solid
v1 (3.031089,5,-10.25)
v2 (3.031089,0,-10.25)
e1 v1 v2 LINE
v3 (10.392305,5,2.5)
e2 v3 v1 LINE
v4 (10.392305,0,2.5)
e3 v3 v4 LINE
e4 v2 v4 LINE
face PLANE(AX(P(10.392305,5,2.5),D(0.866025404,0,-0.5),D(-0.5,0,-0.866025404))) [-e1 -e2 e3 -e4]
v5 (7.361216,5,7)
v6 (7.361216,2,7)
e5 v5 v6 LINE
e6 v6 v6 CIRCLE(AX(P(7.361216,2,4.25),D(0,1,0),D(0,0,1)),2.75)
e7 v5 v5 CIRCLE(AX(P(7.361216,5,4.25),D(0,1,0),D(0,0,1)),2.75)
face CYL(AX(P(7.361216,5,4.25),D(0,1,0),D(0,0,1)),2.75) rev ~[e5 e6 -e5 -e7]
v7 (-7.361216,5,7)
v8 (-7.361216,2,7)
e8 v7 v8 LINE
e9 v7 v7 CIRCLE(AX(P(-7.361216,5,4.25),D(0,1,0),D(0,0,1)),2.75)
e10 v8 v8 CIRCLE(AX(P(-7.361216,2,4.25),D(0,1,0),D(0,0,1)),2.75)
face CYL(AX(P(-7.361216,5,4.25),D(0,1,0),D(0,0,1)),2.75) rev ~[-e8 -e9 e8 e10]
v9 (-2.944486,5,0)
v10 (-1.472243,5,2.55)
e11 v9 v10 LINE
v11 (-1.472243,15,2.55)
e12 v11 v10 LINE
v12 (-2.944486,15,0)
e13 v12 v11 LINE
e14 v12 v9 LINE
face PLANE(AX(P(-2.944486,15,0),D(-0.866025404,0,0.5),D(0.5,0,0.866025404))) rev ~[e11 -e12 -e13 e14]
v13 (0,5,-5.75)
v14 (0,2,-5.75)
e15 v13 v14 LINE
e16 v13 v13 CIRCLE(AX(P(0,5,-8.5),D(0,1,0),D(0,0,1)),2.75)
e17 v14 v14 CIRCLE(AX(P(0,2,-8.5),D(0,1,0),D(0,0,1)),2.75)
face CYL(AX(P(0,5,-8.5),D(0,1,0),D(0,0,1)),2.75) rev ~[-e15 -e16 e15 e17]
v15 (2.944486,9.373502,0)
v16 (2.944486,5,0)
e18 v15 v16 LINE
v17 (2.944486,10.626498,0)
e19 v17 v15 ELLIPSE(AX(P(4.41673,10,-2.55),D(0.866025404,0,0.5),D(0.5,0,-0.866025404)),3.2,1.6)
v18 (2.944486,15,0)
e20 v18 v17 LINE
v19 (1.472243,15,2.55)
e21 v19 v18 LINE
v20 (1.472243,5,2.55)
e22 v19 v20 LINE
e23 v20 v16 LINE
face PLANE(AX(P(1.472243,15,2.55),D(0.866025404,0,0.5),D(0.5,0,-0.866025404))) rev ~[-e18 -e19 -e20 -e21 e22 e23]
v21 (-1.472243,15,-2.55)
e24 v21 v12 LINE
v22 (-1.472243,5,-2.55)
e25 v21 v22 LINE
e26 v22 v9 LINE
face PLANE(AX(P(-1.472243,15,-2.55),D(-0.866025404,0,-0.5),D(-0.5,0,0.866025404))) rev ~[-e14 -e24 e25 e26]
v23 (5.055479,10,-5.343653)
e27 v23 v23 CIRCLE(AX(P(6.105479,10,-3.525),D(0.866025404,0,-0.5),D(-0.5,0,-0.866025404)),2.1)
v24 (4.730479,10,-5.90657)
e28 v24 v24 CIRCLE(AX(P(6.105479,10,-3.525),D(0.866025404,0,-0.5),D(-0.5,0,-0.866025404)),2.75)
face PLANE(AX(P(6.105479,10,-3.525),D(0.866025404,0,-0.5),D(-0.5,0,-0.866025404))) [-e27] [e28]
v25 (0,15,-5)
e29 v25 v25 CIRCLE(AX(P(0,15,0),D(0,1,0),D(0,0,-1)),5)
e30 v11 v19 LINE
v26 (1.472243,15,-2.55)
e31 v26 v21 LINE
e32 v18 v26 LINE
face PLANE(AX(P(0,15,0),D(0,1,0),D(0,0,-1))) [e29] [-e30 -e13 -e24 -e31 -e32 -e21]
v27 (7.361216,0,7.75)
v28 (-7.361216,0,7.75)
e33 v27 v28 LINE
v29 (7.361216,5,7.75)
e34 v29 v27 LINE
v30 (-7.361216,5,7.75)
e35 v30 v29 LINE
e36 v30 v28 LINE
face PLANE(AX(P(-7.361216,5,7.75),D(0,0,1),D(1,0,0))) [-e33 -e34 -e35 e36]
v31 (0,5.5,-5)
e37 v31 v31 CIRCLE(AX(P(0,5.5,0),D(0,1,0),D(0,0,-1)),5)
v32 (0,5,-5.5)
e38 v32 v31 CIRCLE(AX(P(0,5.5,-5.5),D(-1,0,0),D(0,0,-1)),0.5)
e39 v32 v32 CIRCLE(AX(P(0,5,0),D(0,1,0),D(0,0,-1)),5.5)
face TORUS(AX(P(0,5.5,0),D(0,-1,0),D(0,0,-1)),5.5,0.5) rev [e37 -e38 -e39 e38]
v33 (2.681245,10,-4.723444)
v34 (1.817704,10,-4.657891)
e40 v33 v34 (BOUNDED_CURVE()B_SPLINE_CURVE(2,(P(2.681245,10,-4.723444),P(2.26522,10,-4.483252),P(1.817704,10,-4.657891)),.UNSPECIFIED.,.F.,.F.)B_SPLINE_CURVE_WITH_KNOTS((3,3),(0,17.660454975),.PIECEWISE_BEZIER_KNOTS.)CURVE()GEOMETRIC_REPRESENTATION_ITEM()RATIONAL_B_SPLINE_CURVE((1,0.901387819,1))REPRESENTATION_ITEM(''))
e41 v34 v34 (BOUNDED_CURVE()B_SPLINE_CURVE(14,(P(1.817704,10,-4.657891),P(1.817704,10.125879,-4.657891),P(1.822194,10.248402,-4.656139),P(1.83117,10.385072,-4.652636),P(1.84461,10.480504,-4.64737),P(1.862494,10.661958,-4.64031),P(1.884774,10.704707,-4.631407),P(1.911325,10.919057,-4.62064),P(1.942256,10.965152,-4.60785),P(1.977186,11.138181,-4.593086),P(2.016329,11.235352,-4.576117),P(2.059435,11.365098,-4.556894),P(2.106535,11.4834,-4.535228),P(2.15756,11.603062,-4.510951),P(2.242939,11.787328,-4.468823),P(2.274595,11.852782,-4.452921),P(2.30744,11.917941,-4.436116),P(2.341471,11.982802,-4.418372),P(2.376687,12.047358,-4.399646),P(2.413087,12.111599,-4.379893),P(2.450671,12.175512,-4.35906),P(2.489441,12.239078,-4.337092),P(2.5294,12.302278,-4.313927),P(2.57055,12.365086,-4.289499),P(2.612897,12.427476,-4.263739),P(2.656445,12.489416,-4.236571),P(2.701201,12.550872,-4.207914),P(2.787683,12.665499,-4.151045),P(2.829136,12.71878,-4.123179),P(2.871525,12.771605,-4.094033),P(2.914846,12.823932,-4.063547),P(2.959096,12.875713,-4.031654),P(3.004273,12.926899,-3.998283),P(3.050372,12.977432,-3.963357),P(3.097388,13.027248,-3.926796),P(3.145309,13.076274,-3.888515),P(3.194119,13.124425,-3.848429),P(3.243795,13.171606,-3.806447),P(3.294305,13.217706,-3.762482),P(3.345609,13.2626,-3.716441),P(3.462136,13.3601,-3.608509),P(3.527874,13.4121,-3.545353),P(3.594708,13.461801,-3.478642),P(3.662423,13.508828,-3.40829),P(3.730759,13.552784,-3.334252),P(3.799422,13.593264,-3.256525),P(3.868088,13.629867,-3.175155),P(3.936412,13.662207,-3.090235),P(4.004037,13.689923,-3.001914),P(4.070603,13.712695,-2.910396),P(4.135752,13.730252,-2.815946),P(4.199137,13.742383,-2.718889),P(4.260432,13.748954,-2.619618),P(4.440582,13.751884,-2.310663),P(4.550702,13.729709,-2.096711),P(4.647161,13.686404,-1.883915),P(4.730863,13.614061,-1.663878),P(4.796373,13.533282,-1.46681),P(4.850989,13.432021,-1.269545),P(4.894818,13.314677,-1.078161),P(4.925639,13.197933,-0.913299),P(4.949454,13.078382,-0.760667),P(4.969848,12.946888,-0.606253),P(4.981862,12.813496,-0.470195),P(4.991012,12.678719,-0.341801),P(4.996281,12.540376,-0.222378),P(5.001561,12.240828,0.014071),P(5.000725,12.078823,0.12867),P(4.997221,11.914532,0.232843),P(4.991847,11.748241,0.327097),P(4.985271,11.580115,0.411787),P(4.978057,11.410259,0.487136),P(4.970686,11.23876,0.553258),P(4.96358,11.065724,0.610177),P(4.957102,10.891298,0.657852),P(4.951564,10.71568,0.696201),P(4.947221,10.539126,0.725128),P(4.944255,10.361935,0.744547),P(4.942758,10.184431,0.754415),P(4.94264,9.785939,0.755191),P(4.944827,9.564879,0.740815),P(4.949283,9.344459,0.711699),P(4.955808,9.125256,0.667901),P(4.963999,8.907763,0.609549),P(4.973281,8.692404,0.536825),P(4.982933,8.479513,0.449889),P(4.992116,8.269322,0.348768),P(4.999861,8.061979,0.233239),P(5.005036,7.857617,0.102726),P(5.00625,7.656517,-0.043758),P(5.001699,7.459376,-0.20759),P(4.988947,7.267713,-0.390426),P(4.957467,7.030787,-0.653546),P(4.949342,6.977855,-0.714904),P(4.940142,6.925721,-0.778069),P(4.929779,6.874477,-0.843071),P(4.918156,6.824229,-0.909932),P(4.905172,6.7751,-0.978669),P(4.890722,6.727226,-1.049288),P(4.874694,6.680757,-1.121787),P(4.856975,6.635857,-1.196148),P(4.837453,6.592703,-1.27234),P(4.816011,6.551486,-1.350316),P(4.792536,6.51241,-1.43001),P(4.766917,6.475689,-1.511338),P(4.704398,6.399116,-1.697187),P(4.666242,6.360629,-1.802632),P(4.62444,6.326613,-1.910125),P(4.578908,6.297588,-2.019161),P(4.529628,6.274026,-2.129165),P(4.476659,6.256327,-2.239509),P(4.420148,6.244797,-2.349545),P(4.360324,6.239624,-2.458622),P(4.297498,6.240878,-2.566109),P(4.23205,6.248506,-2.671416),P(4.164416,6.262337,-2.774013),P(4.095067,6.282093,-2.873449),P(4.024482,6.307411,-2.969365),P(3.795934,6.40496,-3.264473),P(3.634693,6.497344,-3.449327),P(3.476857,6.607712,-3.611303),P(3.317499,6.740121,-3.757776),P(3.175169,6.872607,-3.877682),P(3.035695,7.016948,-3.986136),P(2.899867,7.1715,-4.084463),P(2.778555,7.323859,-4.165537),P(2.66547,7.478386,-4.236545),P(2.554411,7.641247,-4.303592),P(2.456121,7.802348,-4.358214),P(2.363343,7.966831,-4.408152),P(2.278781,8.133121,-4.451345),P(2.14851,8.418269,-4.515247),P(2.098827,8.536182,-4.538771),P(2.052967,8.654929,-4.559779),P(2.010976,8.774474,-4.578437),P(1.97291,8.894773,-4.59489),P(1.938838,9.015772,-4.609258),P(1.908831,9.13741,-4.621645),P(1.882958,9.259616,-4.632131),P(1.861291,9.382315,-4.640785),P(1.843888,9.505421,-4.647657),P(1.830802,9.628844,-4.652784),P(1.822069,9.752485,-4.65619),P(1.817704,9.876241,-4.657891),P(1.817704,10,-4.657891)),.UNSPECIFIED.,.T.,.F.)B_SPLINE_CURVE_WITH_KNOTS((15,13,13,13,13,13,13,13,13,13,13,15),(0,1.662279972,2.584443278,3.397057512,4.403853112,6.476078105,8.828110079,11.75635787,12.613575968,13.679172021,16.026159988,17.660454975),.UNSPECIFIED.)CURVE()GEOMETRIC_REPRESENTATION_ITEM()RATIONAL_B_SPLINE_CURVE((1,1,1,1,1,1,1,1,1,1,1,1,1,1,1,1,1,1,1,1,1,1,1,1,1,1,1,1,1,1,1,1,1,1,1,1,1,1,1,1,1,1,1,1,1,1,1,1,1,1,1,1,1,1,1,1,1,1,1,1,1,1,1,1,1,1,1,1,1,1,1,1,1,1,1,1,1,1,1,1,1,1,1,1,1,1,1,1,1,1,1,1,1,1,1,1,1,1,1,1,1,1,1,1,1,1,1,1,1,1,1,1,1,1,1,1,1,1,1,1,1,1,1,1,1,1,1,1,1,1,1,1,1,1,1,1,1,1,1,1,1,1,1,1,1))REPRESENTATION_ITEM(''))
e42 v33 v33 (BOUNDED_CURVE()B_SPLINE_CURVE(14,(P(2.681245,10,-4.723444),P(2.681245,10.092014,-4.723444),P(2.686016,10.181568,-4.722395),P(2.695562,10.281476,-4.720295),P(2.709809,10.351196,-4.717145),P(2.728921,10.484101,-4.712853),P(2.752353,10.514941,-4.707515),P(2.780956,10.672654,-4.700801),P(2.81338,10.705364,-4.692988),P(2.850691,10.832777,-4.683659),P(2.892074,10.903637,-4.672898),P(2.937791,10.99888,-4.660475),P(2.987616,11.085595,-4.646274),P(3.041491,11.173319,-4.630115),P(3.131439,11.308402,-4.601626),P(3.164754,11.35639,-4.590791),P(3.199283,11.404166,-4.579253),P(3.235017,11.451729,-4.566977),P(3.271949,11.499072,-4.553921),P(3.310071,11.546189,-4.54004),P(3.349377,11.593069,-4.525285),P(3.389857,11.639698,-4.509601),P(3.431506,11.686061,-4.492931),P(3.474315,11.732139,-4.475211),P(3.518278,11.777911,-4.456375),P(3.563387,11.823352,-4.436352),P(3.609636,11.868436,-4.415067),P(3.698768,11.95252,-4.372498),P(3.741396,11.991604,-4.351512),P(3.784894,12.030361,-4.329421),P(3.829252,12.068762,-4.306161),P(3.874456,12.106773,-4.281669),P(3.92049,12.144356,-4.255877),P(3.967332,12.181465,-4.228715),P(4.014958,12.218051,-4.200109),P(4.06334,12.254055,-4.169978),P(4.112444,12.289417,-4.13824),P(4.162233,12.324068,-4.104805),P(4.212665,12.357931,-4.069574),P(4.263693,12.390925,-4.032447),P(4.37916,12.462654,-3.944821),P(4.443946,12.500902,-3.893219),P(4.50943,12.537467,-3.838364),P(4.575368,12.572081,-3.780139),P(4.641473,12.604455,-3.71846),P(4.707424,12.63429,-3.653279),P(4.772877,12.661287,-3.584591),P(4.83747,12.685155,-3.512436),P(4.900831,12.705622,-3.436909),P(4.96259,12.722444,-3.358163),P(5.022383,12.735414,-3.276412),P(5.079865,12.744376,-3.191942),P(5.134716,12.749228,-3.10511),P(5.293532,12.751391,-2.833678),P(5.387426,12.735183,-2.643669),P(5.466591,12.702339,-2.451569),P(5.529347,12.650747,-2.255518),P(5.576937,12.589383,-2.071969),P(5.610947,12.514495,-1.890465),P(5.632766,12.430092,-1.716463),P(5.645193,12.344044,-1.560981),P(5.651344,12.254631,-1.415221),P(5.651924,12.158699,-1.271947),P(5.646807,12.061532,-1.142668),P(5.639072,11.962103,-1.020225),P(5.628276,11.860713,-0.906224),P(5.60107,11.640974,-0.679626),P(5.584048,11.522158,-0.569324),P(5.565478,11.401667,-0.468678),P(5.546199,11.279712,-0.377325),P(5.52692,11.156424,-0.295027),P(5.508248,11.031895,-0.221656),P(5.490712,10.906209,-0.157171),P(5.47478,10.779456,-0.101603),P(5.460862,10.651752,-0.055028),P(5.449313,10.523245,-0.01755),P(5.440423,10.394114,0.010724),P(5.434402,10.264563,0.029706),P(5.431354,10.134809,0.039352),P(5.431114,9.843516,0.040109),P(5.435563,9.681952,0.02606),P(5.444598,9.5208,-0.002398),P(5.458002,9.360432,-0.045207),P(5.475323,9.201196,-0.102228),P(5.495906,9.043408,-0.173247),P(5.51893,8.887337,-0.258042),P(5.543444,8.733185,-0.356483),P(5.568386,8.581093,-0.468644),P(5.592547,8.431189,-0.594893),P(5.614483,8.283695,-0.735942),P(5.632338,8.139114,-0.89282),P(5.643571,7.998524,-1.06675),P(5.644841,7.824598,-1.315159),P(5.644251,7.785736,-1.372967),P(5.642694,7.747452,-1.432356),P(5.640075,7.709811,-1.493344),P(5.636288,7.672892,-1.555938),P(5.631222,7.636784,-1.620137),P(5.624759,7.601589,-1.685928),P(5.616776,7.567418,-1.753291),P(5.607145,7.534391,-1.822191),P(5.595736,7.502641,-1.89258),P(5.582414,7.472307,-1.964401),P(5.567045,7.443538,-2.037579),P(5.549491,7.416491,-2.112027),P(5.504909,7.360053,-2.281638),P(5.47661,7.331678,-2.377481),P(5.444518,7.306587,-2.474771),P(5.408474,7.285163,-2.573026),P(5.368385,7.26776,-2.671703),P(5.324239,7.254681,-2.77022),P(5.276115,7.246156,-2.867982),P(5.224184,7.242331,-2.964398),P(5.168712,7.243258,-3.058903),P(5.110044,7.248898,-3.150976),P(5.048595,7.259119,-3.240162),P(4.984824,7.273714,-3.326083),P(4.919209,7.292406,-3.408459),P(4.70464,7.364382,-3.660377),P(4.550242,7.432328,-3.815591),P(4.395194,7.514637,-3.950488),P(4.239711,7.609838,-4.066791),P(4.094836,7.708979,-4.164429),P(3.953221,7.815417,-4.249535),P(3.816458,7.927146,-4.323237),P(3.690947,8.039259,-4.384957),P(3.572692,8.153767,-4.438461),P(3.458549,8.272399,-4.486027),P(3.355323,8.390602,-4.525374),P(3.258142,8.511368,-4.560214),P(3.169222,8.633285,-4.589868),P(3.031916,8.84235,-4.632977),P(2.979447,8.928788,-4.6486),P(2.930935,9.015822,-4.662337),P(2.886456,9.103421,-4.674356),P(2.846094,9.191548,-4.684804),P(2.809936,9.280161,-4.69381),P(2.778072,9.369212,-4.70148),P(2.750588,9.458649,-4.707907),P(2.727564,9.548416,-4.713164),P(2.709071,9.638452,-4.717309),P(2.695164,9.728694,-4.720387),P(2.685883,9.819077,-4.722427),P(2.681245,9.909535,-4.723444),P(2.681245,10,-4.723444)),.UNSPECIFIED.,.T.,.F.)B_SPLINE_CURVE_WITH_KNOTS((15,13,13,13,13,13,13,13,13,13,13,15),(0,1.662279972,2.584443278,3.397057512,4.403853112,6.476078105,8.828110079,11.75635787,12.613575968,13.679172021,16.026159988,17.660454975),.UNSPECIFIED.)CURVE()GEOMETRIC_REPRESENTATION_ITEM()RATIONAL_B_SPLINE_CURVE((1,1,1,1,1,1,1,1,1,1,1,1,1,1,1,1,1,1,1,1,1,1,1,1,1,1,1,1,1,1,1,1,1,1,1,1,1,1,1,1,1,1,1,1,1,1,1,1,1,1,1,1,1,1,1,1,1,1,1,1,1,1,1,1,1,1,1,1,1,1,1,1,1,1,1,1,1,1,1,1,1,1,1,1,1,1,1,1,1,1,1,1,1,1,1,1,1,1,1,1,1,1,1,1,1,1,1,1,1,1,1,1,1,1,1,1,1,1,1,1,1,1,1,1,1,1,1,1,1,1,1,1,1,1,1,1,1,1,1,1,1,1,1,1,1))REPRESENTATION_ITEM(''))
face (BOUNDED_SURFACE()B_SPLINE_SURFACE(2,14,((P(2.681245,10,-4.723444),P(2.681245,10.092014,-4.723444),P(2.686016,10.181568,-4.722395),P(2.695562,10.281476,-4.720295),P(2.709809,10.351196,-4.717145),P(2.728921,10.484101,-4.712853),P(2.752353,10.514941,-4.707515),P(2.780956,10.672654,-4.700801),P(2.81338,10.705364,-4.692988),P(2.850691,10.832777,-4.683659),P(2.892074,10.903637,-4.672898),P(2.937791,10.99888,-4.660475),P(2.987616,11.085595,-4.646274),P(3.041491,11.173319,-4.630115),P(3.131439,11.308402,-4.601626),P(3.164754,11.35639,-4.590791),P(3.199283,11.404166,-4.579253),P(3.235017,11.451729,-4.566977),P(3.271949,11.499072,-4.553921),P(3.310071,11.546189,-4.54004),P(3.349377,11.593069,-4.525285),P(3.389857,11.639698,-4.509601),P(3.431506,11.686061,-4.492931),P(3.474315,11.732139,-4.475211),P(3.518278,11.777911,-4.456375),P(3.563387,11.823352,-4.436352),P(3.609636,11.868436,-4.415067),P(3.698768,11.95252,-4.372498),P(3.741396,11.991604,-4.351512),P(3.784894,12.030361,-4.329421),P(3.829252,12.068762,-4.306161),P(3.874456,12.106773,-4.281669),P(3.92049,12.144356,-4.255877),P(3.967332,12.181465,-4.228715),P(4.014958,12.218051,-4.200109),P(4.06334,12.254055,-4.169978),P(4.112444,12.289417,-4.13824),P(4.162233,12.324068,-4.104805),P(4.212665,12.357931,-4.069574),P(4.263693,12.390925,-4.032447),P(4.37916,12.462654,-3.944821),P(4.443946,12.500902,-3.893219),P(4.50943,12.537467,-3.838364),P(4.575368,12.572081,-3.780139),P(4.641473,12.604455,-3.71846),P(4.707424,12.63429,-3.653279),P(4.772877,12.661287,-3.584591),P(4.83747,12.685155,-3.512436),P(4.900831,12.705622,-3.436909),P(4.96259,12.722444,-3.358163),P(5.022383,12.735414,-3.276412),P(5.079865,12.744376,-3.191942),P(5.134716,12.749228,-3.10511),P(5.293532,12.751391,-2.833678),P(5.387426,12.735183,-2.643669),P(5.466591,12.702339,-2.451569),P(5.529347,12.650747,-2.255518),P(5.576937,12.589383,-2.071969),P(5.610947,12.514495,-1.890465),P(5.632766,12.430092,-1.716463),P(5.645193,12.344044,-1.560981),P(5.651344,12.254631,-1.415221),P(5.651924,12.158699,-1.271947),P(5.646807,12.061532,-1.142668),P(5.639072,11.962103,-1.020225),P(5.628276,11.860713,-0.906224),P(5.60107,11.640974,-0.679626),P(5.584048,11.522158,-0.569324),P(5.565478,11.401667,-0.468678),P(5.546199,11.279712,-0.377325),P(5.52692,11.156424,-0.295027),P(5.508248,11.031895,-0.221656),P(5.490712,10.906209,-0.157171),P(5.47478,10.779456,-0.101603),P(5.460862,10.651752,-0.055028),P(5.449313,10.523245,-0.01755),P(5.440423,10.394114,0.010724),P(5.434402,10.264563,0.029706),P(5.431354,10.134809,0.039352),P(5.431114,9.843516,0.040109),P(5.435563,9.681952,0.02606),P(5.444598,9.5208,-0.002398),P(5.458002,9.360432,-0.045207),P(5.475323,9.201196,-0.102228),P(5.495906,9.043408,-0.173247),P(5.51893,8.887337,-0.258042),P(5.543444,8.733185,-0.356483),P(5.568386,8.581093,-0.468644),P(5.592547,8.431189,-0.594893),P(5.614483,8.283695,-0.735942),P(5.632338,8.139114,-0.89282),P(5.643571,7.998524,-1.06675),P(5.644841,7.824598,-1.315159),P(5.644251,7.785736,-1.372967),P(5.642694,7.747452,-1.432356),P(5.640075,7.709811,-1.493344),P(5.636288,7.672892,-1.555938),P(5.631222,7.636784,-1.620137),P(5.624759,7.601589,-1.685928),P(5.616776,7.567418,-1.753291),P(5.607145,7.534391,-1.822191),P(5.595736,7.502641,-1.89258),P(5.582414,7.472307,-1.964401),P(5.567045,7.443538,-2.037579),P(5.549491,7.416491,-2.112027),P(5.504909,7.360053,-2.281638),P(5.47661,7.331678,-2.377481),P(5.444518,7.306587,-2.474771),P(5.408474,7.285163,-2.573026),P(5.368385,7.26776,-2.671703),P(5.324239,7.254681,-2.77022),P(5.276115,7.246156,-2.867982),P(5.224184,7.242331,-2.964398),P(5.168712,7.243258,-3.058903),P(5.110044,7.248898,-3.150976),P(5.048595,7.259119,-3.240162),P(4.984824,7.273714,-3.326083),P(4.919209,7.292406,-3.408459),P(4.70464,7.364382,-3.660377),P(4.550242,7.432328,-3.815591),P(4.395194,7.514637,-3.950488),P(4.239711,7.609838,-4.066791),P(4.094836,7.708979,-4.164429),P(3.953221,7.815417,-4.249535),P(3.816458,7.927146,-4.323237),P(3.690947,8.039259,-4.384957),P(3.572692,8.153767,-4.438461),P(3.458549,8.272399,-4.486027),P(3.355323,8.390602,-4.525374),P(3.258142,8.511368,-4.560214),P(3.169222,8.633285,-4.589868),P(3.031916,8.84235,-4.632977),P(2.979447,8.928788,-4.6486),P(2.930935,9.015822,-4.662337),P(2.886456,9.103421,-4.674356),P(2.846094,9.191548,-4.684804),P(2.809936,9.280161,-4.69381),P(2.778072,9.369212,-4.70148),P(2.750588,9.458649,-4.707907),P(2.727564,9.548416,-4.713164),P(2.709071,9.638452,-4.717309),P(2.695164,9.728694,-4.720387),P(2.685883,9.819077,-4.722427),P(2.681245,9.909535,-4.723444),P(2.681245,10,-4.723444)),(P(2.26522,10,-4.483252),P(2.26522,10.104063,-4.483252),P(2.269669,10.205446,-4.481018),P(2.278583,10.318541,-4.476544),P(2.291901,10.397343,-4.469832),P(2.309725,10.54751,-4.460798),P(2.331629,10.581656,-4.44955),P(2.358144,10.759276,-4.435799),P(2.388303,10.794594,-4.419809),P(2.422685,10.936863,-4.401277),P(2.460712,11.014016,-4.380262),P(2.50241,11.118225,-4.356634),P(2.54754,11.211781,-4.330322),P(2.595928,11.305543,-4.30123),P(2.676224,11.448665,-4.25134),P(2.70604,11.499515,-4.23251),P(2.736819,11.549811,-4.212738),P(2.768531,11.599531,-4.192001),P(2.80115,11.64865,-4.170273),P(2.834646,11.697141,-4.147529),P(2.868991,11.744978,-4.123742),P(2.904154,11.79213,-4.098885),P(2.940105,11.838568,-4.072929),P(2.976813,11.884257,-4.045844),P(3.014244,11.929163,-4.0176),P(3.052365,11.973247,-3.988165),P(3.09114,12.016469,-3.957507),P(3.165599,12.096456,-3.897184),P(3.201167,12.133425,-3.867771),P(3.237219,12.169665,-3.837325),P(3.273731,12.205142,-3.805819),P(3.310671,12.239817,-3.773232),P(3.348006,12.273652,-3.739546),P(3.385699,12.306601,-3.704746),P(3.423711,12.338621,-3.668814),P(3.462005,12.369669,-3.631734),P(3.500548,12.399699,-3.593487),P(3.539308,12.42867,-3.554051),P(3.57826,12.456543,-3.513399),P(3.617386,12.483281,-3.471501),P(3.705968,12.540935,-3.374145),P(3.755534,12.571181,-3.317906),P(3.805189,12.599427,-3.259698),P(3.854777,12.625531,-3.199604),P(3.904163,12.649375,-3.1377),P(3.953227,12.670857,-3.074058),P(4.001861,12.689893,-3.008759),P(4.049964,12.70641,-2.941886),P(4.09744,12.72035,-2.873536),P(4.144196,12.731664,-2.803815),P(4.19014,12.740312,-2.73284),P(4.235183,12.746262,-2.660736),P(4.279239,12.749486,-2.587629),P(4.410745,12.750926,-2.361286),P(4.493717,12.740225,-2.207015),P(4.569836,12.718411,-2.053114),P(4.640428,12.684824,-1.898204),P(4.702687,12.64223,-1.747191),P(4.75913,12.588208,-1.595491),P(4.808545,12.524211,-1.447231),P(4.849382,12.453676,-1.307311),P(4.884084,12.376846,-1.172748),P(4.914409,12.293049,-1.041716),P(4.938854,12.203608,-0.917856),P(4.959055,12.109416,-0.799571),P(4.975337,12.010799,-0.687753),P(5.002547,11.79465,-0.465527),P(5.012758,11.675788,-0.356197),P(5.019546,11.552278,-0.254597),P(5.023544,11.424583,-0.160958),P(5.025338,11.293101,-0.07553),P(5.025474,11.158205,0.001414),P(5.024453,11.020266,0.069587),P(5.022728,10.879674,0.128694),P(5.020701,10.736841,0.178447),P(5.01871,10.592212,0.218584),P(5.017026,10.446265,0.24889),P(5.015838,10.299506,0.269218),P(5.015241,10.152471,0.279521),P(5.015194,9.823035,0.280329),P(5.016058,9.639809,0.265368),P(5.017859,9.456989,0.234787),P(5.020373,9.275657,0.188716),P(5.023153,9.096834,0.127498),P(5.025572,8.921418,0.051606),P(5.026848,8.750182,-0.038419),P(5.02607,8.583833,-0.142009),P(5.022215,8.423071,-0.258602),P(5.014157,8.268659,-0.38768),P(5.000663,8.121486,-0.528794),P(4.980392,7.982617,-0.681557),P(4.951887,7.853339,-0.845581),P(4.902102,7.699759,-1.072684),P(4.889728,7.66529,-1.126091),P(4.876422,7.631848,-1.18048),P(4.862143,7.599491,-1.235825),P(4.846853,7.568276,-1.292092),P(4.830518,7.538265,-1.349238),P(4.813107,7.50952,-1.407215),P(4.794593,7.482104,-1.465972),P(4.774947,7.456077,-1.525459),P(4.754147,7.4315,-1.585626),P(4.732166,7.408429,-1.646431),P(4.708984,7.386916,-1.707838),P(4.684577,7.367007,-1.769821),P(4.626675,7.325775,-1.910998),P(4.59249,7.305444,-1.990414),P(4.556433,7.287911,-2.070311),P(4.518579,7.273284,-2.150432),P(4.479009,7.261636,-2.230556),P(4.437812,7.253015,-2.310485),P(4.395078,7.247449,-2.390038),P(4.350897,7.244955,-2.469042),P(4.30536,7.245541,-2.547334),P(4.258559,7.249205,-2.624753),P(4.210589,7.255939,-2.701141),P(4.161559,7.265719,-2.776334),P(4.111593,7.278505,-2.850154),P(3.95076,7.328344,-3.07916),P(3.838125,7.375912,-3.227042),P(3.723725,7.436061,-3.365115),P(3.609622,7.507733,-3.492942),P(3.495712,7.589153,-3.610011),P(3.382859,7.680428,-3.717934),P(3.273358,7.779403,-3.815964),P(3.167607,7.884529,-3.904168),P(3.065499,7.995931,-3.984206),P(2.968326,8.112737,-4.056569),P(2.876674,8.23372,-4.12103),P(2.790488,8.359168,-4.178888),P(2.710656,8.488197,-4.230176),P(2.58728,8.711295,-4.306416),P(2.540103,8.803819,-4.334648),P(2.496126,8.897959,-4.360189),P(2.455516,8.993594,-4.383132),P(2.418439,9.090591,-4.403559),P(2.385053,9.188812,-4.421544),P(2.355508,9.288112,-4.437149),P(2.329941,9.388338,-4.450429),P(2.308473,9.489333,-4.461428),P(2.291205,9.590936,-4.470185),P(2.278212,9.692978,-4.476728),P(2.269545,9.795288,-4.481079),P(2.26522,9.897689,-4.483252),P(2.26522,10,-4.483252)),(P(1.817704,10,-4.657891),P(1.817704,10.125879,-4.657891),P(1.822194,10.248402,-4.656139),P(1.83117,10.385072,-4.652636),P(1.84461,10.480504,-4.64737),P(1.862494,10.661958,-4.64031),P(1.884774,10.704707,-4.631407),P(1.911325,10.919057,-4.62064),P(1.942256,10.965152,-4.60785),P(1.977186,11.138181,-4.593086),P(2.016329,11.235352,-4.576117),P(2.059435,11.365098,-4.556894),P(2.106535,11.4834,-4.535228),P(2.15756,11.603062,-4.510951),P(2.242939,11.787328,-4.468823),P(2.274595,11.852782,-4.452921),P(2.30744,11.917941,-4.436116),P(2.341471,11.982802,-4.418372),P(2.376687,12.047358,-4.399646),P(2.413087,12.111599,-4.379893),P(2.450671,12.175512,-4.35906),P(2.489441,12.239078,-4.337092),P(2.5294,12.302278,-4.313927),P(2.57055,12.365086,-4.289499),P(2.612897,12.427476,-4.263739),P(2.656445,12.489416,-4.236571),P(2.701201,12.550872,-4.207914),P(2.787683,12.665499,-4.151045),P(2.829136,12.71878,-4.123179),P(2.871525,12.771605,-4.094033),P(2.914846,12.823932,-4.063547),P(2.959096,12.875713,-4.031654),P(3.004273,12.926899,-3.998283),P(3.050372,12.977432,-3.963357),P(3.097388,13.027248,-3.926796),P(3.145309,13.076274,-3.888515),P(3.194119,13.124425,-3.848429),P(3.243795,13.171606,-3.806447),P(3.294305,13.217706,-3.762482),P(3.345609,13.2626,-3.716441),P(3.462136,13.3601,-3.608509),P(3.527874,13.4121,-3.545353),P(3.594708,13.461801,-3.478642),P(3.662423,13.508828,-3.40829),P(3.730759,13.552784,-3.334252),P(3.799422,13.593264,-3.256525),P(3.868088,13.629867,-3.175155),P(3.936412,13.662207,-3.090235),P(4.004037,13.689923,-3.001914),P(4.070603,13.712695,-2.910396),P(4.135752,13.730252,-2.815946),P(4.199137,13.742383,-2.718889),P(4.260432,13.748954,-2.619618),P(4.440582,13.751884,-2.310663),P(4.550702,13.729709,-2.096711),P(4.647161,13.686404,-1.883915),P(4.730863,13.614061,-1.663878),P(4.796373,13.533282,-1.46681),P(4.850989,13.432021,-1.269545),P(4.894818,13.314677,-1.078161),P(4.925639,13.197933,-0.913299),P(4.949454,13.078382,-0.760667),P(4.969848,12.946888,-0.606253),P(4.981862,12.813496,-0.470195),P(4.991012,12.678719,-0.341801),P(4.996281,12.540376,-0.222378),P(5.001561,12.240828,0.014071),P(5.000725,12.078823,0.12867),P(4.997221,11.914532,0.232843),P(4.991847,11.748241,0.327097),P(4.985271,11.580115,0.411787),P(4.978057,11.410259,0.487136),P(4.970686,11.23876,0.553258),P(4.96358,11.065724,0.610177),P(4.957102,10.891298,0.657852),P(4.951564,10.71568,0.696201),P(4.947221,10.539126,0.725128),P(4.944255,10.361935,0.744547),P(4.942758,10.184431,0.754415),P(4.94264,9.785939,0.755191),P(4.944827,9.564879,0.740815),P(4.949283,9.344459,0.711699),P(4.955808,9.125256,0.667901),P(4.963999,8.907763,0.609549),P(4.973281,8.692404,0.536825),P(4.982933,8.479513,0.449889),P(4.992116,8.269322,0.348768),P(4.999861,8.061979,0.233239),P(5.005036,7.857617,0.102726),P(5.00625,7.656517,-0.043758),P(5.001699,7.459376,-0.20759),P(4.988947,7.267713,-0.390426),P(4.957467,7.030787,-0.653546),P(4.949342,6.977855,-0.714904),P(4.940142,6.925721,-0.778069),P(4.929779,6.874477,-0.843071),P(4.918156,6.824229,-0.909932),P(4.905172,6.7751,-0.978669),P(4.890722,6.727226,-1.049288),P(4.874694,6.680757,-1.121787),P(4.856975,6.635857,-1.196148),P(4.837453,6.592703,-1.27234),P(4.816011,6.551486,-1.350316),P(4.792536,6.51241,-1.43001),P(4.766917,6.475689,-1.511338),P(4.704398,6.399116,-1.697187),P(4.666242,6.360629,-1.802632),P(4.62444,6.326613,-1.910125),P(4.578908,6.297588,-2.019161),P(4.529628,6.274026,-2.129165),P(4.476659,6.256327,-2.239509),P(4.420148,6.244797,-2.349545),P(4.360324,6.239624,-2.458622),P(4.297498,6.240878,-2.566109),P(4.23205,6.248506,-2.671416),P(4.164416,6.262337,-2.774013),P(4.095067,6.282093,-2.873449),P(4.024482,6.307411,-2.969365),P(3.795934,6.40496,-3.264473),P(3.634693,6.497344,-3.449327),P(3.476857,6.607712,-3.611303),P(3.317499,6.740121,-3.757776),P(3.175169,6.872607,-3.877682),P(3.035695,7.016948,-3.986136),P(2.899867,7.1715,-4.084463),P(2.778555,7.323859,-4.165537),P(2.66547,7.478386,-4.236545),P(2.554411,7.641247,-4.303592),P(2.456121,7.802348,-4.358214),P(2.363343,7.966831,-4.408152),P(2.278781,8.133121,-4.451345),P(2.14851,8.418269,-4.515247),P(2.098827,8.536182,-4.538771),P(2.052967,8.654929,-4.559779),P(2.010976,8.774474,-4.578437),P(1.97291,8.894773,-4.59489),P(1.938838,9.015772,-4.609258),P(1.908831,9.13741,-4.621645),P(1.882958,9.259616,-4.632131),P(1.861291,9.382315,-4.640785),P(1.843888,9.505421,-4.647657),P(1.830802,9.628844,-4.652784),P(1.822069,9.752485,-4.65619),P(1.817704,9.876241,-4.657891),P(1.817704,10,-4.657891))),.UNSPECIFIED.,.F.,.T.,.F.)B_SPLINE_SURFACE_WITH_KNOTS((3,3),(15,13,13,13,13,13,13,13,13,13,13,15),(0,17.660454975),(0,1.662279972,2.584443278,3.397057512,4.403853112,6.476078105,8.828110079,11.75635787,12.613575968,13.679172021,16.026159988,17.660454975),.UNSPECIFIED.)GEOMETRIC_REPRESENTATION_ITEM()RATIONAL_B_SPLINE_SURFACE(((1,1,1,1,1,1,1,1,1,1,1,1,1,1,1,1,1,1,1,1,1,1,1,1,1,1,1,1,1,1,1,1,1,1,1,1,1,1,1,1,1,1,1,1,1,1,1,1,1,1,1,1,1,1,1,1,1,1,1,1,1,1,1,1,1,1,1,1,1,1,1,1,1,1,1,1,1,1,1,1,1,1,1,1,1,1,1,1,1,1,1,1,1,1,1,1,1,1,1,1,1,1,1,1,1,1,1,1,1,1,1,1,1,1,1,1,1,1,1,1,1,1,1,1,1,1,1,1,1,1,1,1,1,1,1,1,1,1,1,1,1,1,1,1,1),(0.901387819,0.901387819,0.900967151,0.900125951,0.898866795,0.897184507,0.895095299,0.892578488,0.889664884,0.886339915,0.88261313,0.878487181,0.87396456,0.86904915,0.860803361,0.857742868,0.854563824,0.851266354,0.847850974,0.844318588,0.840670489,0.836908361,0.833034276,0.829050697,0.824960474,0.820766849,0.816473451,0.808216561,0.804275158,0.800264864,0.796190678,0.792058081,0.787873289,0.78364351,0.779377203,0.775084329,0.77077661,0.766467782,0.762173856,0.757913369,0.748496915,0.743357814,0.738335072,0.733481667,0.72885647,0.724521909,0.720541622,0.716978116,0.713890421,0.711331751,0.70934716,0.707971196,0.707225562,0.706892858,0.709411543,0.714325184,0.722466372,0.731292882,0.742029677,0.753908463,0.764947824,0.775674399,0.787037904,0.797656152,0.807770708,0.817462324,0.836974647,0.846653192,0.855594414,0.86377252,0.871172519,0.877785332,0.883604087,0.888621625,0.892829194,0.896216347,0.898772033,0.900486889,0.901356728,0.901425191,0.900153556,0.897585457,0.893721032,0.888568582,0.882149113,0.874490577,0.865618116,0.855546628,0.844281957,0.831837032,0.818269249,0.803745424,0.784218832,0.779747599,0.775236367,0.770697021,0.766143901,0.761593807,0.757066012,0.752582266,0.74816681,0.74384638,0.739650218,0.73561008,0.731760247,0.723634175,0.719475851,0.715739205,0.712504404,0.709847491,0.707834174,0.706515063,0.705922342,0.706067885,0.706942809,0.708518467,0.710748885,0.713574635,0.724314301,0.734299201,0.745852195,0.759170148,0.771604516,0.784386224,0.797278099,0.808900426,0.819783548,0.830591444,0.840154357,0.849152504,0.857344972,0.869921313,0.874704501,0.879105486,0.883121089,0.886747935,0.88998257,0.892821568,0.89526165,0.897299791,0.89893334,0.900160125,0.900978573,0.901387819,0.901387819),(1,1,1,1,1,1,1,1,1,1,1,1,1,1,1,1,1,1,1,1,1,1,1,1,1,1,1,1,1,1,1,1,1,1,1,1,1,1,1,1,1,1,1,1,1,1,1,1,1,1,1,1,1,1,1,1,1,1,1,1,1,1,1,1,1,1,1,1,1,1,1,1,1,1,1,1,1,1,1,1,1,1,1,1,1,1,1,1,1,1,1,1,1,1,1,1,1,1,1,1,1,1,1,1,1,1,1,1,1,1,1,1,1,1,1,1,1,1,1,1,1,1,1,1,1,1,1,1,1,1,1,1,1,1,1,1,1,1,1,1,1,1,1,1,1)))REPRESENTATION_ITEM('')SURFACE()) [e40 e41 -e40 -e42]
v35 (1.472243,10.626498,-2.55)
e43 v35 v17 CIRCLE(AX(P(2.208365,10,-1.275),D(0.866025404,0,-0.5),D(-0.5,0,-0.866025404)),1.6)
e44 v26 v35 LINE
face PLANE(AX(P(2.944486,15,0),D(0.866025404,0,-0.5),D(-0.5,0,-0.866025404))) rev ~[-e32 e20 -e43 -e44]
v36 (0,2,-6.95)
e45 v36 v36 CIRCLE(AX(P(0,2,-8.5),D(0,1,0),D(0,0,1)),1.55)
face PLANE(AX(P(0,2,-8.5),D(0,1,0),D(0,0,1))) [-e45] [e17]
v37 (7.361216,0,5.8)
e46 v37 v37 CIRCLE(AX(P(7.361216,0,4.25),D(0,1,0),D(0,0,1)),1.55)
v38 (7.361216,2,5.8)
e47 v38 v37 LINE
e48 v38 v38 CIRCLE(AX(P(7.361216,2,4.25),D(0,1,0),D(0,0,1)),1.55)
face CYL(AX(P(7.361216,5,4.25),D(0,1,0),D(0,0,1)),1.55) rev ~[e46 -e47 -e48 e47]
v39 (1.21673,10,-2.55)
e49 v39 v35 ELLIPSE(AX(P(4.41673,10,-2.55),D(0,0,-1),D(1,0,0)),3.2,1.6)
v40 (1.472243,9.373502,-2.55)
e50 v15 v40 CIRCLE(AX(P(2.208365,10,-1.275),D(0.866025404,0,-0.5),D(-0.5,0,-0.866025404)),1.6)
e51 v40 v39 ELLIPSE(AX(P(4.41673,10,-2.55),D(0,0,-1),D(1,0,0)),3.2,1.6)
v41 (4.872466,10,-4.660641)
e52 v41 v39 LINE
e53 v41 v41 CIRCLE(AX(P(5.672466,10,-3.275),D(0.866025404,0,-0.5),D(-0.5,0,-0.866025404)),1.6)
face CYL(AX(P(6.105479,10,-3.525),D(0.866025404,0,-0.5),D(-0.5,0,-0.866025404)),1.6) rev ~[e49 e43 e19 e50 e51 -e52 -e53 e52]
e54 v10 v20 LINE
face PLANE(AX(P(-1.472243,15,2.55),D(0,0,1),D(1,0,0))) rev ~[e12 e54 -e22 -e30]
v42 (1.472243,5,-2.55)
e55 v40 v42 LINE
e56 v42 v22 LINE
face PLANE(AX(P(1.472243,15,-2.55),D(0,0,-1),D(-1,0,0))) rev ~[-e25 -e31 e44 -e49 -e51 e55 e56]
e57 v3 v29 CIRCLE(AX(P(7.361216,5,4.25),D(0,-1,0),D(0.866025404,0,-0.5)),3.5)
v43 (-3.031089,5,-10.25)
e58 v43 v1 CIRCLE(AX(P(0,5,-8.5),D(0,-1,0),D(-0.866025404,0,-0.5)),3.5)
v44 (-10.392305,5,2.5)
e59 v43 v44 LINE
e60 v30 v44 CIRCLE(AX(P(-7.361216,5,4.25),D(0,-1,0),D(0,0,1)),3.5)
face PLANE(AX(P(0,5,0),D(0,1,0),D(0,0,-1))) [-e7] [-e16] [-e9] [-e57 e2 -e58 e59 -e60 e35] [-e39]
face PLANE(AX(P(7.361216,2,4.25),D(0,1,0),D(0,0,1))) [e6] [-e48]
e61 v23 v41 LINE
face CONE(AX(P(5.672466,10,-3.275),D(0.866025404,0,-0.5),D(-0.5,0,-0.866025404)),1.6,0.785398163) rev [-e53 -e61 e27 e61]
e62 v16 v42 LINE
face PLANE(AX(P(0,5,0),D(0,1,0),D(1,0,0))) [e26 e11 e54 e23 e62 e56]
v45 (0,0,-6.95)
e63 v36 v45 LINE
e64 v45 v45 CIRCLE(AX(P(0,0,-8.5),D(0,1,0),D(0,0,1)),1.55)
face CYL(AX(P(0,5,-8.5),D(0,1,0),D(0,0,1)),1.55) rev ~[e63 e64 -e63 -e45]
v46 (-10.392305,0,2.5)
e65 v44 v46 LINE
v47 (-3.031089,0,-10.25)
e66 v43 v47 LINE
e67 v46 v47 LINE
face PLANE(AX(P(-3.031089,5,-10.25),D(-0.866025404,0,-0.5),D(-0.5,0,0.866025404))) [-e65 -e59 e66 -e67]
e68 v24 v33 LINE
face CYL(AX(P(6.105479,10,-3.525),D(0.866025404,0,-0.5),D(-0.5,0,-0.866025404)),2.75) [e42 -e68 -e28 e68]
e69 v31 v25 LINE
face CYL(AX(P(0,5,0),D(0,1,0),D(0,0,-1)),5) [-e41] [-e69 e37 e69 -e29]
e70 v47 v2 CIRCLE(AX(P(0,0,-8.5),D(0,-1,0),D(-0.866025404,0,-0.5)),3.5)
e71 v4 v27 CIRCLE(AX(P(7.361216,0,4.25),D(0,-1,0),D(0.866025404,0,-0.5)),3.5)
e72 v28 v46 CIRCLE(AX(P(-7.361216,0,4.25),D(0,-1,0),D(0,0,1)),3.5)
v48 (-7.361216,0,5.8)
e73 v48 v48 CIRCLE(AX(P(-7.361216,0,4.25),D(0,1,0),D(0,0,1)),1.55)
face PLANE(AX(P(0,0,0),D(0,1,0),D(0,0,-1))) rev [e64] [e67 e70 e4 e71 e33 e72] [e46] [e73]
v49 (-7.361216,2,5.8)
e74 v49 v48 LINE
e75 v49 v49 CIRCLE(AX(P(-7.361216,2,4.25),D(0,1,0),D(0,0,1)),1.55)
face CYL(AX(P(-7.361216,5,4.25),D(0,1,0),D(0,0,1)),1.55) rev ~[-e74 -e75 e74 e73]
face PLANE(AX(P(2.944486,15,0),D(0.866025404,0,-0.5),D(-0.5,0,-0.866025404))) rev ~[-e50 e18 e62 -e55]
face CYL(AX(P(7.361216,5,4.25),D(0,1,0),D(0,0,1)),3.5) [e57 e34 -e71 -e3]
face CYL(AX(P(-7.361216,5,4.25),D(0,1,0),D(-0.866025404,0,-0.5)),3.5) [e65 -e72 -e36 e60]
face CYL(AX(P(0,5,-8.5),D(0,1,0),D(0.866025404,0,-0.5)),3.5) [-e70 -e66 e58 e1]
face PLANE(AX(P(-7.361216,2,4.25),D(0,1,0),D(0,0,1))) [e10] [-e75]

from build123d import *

# Parameters (mm, degrees)
SKETCH4_R                = 2.75
CUT_EXTRUDE4_DEPTH       = 3
SKETCH5_OUTSIDE_W        = 33.422
SKETCH5_OUTSIDE_H        = 33.422
CUT_EXTRUDE5_DEPTH       = 20.697715604
CUT_EXTRUDE2_DEPTH       = 10
BOSS_EXTRUDE1_REACH      = 27.298
BOSS_EXTRUDE1_END_RADIUS = 5
SKETCH3_R                = 2.75
CUT_EXTRUDE6_REACH       = 27.298
SKETCH6_R                = 1.6
FILLET1_R                = 0.5
CHAMFER1_SIZE            = 0.5
FILLET2_R                = 1
SKETCH7_R                = 1.55
CUT_EXTRUDE7_DEPTH       = 20.025404425


with BuildPart() as part:
    # Sketch1 → Revolve1 (revolve)
    with BuildSketch(Plane(origin=(0, 0, 0), x_dir=(0, 0, -1), z_dir=(1, 0, 0))):
        Polygon((0, 0), (12, 0), (12, 5), (5, 5), (5, 15), (0, 15), (0, 5.353547723), align=None)
    revolve(axis=Axis((0, 5.353547723, 0), (0, 1, 0)))

    # Sketch4 → Cut-Extrude4 (cut)
    with BuildSketch(Plane(origin=(0, 5, 0), x_dir=(1, 0, 0), z_dir=(0, 1, 0))):
        with Locations(Location((0, 8.5, 0), (0, 0, 270))):
            Circle(SKETCH4_R)
        with Locations(Location((7.361215932, -4.25, 0), (0, 0, 270))):
            Circle(SKETCH4_R)
        with Locations(Location((-7.361215932, -4.25, 0), (0, 0, 270))):
            Circle(SKETCH4_R)
    extrude(amount=-CUT_EXTRUDE4_DEPTH, mode=Mode.SUBTRACT)

    # Sketch5 outside → Cut-Extrude5 (cut, through all)
    with BuildSketch(Plane(origin=(0, 5, 0), x_dir=(1, 0, 0), z_dir=(0, 1, 0))):
        Rectangle(SKETCH5_OUTSIDE_W, SKETCH5_OUTSIDE_H)
        with BuildLine():
            Line((-3.031088913, 10.25), (-10.392304845, -2.5))
            ThreePointArc((-10.392304845, -2.5), (-10.392304845, -6), (-7.361215932, -7.75))
            Line((-7.361215932, -7.75), (7.361215932, -7.75))
            ThreePointArc((7.361215932, -7.75), (10.392304845, -6), (10.392304845, -2.5))
            Line((10.392304845, -2.5), (3.031088913, 10.25))
            ThreePointArc((3.031088913, 10.25), (0, 12), (-3.031088913, 10.25))
        make_face(mode=Mode.SUBTRACT)
    extrude(amount=-CUT_EXTRUDE5_DEPTH, mode=Mode.SUBTRACT)

    # Sketch2 → Cut-Extrude2 (cut)
    with BuildSketch(Plane(origin=(0, 15, 0), x_dir=(1, 0, 0), z_dir=(0, 1, 0))):
        Polygon((2.944486373, 0), (1.472243186, 2.55), (-1.472243186, 2.55), (-2.944486373, 0), (-1.472243186, -2.55), (1.472243186, -2.55), align=None)
    extrude(amount=-CUT_EXTRUDE2_DEPTH, mode=Mode.SUBTRACT)

    # Boss-Extrude1: up to this cylinder (the profile starts outside it)
    boss_extrude1_end = Plane(origin=(0, 10, 0), z_dir=(0, -1, 0)) * Cylinder(BOSS_EXTRUDE1_END_RADIUS, 65.596, mode=Mode.PRIVATE)
    # Sketch3 → Boss-Extrude1 (add, up to the surface)
    with BuildSketch(Plane(origin=(6.105479097, 0, -3.525), x_dir=(-0.5000000000000001, 0, -0.8660254037844386), z_dir=(0.8660254037844386, 0, -0.5000000000000001)), mode=Mode.PRIVATE) as boss_extrude1_sk1:
        with Locations((0, 10)):
            Circle(SKETCH3_R)
    boss_extrude1_tool1 = extrude(boss_extrude1_sk1.sketch, amount=-BOSS_EXTRUDE1_REACH, mode=Mode.PRIVATE) - boss_extrude1_end
    add(boss_extrude1_tool1.solids().sort_by_distance((6.105479, 10, -3.525))[0])

    # Sketch6 → Cut-Extrude6 (cut, up to next)
    with BuildSketch(Plane(origin=(6.105479097, 0, -3.525), x_dir=(-0.5000000000000001, 0, -0.8660254037844386), z_dir=(0.8660254037844386, 0, -0.5000000000000001)), mode=Mode.PRIVATE) as cut_extrude6_sk1:
        with Locations((0, 10)):
            Circle(SKETCH6_R)
    cut_extrude6_tool1 = extrude(cut_extrude6_sk1.sketch, amount=-CUT_EXTRUDE6_REACH, mode=Mode.PRIVATE) & part.part
    add(cut_extrude6_tool1.solids().sort_by_distance((6.105479, 10, -3.525))[0], mode=Mode.SUBTRACT)

    # Fillet1
    fillet1_edges = [part.edges().sort_by_distance(p)[0] for p in [
        (0, 5, 5),
    ]]
    fillet(fillet1_edges, radius=FILLET1_R)

    # Chamfer1
    chamfer1_edges = [part.edges().sort_by_distance(p)[0] for p in [
        (6.905479097, 10, -2.139359354),
    ]]
    chamfer(chamfer1_edges, length=CHAMFER1_SIZE)

    # Fillet2
    fillet2_edges = [part.edges().sort_by_distance(p)[0] for p in [
        (4.991369035, 9.999999998, 0.293658225),
    ]]
    fillet(fillet2_edges, radius=FILLET2_R)

    # Sketch7 → Cut-Extrude7 (cut, through all)
    with BuildSketch(Plane(origin=(0, 5, 0), x_dir=(1, 0, 0), z_dir=(0, 1, 0))):
        with Locations(Location((0, 8.5, 0), (0, 0, 270))):
            Circle(SKETCH7_R)
        with Locations(Location((7.361215932, -4.25, 0), (0, 0, 270))):
            Circle(SKETCH7_R)
        with Locations(Location((-7.361215932, -4.25, 0), (0, 0, 270))):
            Circle(SKETCH7_R)
    extrude(amount=-CUT_EXTRUDE7_DEPTH, mode=Mode.SUBTRACT)


solid = part.part
